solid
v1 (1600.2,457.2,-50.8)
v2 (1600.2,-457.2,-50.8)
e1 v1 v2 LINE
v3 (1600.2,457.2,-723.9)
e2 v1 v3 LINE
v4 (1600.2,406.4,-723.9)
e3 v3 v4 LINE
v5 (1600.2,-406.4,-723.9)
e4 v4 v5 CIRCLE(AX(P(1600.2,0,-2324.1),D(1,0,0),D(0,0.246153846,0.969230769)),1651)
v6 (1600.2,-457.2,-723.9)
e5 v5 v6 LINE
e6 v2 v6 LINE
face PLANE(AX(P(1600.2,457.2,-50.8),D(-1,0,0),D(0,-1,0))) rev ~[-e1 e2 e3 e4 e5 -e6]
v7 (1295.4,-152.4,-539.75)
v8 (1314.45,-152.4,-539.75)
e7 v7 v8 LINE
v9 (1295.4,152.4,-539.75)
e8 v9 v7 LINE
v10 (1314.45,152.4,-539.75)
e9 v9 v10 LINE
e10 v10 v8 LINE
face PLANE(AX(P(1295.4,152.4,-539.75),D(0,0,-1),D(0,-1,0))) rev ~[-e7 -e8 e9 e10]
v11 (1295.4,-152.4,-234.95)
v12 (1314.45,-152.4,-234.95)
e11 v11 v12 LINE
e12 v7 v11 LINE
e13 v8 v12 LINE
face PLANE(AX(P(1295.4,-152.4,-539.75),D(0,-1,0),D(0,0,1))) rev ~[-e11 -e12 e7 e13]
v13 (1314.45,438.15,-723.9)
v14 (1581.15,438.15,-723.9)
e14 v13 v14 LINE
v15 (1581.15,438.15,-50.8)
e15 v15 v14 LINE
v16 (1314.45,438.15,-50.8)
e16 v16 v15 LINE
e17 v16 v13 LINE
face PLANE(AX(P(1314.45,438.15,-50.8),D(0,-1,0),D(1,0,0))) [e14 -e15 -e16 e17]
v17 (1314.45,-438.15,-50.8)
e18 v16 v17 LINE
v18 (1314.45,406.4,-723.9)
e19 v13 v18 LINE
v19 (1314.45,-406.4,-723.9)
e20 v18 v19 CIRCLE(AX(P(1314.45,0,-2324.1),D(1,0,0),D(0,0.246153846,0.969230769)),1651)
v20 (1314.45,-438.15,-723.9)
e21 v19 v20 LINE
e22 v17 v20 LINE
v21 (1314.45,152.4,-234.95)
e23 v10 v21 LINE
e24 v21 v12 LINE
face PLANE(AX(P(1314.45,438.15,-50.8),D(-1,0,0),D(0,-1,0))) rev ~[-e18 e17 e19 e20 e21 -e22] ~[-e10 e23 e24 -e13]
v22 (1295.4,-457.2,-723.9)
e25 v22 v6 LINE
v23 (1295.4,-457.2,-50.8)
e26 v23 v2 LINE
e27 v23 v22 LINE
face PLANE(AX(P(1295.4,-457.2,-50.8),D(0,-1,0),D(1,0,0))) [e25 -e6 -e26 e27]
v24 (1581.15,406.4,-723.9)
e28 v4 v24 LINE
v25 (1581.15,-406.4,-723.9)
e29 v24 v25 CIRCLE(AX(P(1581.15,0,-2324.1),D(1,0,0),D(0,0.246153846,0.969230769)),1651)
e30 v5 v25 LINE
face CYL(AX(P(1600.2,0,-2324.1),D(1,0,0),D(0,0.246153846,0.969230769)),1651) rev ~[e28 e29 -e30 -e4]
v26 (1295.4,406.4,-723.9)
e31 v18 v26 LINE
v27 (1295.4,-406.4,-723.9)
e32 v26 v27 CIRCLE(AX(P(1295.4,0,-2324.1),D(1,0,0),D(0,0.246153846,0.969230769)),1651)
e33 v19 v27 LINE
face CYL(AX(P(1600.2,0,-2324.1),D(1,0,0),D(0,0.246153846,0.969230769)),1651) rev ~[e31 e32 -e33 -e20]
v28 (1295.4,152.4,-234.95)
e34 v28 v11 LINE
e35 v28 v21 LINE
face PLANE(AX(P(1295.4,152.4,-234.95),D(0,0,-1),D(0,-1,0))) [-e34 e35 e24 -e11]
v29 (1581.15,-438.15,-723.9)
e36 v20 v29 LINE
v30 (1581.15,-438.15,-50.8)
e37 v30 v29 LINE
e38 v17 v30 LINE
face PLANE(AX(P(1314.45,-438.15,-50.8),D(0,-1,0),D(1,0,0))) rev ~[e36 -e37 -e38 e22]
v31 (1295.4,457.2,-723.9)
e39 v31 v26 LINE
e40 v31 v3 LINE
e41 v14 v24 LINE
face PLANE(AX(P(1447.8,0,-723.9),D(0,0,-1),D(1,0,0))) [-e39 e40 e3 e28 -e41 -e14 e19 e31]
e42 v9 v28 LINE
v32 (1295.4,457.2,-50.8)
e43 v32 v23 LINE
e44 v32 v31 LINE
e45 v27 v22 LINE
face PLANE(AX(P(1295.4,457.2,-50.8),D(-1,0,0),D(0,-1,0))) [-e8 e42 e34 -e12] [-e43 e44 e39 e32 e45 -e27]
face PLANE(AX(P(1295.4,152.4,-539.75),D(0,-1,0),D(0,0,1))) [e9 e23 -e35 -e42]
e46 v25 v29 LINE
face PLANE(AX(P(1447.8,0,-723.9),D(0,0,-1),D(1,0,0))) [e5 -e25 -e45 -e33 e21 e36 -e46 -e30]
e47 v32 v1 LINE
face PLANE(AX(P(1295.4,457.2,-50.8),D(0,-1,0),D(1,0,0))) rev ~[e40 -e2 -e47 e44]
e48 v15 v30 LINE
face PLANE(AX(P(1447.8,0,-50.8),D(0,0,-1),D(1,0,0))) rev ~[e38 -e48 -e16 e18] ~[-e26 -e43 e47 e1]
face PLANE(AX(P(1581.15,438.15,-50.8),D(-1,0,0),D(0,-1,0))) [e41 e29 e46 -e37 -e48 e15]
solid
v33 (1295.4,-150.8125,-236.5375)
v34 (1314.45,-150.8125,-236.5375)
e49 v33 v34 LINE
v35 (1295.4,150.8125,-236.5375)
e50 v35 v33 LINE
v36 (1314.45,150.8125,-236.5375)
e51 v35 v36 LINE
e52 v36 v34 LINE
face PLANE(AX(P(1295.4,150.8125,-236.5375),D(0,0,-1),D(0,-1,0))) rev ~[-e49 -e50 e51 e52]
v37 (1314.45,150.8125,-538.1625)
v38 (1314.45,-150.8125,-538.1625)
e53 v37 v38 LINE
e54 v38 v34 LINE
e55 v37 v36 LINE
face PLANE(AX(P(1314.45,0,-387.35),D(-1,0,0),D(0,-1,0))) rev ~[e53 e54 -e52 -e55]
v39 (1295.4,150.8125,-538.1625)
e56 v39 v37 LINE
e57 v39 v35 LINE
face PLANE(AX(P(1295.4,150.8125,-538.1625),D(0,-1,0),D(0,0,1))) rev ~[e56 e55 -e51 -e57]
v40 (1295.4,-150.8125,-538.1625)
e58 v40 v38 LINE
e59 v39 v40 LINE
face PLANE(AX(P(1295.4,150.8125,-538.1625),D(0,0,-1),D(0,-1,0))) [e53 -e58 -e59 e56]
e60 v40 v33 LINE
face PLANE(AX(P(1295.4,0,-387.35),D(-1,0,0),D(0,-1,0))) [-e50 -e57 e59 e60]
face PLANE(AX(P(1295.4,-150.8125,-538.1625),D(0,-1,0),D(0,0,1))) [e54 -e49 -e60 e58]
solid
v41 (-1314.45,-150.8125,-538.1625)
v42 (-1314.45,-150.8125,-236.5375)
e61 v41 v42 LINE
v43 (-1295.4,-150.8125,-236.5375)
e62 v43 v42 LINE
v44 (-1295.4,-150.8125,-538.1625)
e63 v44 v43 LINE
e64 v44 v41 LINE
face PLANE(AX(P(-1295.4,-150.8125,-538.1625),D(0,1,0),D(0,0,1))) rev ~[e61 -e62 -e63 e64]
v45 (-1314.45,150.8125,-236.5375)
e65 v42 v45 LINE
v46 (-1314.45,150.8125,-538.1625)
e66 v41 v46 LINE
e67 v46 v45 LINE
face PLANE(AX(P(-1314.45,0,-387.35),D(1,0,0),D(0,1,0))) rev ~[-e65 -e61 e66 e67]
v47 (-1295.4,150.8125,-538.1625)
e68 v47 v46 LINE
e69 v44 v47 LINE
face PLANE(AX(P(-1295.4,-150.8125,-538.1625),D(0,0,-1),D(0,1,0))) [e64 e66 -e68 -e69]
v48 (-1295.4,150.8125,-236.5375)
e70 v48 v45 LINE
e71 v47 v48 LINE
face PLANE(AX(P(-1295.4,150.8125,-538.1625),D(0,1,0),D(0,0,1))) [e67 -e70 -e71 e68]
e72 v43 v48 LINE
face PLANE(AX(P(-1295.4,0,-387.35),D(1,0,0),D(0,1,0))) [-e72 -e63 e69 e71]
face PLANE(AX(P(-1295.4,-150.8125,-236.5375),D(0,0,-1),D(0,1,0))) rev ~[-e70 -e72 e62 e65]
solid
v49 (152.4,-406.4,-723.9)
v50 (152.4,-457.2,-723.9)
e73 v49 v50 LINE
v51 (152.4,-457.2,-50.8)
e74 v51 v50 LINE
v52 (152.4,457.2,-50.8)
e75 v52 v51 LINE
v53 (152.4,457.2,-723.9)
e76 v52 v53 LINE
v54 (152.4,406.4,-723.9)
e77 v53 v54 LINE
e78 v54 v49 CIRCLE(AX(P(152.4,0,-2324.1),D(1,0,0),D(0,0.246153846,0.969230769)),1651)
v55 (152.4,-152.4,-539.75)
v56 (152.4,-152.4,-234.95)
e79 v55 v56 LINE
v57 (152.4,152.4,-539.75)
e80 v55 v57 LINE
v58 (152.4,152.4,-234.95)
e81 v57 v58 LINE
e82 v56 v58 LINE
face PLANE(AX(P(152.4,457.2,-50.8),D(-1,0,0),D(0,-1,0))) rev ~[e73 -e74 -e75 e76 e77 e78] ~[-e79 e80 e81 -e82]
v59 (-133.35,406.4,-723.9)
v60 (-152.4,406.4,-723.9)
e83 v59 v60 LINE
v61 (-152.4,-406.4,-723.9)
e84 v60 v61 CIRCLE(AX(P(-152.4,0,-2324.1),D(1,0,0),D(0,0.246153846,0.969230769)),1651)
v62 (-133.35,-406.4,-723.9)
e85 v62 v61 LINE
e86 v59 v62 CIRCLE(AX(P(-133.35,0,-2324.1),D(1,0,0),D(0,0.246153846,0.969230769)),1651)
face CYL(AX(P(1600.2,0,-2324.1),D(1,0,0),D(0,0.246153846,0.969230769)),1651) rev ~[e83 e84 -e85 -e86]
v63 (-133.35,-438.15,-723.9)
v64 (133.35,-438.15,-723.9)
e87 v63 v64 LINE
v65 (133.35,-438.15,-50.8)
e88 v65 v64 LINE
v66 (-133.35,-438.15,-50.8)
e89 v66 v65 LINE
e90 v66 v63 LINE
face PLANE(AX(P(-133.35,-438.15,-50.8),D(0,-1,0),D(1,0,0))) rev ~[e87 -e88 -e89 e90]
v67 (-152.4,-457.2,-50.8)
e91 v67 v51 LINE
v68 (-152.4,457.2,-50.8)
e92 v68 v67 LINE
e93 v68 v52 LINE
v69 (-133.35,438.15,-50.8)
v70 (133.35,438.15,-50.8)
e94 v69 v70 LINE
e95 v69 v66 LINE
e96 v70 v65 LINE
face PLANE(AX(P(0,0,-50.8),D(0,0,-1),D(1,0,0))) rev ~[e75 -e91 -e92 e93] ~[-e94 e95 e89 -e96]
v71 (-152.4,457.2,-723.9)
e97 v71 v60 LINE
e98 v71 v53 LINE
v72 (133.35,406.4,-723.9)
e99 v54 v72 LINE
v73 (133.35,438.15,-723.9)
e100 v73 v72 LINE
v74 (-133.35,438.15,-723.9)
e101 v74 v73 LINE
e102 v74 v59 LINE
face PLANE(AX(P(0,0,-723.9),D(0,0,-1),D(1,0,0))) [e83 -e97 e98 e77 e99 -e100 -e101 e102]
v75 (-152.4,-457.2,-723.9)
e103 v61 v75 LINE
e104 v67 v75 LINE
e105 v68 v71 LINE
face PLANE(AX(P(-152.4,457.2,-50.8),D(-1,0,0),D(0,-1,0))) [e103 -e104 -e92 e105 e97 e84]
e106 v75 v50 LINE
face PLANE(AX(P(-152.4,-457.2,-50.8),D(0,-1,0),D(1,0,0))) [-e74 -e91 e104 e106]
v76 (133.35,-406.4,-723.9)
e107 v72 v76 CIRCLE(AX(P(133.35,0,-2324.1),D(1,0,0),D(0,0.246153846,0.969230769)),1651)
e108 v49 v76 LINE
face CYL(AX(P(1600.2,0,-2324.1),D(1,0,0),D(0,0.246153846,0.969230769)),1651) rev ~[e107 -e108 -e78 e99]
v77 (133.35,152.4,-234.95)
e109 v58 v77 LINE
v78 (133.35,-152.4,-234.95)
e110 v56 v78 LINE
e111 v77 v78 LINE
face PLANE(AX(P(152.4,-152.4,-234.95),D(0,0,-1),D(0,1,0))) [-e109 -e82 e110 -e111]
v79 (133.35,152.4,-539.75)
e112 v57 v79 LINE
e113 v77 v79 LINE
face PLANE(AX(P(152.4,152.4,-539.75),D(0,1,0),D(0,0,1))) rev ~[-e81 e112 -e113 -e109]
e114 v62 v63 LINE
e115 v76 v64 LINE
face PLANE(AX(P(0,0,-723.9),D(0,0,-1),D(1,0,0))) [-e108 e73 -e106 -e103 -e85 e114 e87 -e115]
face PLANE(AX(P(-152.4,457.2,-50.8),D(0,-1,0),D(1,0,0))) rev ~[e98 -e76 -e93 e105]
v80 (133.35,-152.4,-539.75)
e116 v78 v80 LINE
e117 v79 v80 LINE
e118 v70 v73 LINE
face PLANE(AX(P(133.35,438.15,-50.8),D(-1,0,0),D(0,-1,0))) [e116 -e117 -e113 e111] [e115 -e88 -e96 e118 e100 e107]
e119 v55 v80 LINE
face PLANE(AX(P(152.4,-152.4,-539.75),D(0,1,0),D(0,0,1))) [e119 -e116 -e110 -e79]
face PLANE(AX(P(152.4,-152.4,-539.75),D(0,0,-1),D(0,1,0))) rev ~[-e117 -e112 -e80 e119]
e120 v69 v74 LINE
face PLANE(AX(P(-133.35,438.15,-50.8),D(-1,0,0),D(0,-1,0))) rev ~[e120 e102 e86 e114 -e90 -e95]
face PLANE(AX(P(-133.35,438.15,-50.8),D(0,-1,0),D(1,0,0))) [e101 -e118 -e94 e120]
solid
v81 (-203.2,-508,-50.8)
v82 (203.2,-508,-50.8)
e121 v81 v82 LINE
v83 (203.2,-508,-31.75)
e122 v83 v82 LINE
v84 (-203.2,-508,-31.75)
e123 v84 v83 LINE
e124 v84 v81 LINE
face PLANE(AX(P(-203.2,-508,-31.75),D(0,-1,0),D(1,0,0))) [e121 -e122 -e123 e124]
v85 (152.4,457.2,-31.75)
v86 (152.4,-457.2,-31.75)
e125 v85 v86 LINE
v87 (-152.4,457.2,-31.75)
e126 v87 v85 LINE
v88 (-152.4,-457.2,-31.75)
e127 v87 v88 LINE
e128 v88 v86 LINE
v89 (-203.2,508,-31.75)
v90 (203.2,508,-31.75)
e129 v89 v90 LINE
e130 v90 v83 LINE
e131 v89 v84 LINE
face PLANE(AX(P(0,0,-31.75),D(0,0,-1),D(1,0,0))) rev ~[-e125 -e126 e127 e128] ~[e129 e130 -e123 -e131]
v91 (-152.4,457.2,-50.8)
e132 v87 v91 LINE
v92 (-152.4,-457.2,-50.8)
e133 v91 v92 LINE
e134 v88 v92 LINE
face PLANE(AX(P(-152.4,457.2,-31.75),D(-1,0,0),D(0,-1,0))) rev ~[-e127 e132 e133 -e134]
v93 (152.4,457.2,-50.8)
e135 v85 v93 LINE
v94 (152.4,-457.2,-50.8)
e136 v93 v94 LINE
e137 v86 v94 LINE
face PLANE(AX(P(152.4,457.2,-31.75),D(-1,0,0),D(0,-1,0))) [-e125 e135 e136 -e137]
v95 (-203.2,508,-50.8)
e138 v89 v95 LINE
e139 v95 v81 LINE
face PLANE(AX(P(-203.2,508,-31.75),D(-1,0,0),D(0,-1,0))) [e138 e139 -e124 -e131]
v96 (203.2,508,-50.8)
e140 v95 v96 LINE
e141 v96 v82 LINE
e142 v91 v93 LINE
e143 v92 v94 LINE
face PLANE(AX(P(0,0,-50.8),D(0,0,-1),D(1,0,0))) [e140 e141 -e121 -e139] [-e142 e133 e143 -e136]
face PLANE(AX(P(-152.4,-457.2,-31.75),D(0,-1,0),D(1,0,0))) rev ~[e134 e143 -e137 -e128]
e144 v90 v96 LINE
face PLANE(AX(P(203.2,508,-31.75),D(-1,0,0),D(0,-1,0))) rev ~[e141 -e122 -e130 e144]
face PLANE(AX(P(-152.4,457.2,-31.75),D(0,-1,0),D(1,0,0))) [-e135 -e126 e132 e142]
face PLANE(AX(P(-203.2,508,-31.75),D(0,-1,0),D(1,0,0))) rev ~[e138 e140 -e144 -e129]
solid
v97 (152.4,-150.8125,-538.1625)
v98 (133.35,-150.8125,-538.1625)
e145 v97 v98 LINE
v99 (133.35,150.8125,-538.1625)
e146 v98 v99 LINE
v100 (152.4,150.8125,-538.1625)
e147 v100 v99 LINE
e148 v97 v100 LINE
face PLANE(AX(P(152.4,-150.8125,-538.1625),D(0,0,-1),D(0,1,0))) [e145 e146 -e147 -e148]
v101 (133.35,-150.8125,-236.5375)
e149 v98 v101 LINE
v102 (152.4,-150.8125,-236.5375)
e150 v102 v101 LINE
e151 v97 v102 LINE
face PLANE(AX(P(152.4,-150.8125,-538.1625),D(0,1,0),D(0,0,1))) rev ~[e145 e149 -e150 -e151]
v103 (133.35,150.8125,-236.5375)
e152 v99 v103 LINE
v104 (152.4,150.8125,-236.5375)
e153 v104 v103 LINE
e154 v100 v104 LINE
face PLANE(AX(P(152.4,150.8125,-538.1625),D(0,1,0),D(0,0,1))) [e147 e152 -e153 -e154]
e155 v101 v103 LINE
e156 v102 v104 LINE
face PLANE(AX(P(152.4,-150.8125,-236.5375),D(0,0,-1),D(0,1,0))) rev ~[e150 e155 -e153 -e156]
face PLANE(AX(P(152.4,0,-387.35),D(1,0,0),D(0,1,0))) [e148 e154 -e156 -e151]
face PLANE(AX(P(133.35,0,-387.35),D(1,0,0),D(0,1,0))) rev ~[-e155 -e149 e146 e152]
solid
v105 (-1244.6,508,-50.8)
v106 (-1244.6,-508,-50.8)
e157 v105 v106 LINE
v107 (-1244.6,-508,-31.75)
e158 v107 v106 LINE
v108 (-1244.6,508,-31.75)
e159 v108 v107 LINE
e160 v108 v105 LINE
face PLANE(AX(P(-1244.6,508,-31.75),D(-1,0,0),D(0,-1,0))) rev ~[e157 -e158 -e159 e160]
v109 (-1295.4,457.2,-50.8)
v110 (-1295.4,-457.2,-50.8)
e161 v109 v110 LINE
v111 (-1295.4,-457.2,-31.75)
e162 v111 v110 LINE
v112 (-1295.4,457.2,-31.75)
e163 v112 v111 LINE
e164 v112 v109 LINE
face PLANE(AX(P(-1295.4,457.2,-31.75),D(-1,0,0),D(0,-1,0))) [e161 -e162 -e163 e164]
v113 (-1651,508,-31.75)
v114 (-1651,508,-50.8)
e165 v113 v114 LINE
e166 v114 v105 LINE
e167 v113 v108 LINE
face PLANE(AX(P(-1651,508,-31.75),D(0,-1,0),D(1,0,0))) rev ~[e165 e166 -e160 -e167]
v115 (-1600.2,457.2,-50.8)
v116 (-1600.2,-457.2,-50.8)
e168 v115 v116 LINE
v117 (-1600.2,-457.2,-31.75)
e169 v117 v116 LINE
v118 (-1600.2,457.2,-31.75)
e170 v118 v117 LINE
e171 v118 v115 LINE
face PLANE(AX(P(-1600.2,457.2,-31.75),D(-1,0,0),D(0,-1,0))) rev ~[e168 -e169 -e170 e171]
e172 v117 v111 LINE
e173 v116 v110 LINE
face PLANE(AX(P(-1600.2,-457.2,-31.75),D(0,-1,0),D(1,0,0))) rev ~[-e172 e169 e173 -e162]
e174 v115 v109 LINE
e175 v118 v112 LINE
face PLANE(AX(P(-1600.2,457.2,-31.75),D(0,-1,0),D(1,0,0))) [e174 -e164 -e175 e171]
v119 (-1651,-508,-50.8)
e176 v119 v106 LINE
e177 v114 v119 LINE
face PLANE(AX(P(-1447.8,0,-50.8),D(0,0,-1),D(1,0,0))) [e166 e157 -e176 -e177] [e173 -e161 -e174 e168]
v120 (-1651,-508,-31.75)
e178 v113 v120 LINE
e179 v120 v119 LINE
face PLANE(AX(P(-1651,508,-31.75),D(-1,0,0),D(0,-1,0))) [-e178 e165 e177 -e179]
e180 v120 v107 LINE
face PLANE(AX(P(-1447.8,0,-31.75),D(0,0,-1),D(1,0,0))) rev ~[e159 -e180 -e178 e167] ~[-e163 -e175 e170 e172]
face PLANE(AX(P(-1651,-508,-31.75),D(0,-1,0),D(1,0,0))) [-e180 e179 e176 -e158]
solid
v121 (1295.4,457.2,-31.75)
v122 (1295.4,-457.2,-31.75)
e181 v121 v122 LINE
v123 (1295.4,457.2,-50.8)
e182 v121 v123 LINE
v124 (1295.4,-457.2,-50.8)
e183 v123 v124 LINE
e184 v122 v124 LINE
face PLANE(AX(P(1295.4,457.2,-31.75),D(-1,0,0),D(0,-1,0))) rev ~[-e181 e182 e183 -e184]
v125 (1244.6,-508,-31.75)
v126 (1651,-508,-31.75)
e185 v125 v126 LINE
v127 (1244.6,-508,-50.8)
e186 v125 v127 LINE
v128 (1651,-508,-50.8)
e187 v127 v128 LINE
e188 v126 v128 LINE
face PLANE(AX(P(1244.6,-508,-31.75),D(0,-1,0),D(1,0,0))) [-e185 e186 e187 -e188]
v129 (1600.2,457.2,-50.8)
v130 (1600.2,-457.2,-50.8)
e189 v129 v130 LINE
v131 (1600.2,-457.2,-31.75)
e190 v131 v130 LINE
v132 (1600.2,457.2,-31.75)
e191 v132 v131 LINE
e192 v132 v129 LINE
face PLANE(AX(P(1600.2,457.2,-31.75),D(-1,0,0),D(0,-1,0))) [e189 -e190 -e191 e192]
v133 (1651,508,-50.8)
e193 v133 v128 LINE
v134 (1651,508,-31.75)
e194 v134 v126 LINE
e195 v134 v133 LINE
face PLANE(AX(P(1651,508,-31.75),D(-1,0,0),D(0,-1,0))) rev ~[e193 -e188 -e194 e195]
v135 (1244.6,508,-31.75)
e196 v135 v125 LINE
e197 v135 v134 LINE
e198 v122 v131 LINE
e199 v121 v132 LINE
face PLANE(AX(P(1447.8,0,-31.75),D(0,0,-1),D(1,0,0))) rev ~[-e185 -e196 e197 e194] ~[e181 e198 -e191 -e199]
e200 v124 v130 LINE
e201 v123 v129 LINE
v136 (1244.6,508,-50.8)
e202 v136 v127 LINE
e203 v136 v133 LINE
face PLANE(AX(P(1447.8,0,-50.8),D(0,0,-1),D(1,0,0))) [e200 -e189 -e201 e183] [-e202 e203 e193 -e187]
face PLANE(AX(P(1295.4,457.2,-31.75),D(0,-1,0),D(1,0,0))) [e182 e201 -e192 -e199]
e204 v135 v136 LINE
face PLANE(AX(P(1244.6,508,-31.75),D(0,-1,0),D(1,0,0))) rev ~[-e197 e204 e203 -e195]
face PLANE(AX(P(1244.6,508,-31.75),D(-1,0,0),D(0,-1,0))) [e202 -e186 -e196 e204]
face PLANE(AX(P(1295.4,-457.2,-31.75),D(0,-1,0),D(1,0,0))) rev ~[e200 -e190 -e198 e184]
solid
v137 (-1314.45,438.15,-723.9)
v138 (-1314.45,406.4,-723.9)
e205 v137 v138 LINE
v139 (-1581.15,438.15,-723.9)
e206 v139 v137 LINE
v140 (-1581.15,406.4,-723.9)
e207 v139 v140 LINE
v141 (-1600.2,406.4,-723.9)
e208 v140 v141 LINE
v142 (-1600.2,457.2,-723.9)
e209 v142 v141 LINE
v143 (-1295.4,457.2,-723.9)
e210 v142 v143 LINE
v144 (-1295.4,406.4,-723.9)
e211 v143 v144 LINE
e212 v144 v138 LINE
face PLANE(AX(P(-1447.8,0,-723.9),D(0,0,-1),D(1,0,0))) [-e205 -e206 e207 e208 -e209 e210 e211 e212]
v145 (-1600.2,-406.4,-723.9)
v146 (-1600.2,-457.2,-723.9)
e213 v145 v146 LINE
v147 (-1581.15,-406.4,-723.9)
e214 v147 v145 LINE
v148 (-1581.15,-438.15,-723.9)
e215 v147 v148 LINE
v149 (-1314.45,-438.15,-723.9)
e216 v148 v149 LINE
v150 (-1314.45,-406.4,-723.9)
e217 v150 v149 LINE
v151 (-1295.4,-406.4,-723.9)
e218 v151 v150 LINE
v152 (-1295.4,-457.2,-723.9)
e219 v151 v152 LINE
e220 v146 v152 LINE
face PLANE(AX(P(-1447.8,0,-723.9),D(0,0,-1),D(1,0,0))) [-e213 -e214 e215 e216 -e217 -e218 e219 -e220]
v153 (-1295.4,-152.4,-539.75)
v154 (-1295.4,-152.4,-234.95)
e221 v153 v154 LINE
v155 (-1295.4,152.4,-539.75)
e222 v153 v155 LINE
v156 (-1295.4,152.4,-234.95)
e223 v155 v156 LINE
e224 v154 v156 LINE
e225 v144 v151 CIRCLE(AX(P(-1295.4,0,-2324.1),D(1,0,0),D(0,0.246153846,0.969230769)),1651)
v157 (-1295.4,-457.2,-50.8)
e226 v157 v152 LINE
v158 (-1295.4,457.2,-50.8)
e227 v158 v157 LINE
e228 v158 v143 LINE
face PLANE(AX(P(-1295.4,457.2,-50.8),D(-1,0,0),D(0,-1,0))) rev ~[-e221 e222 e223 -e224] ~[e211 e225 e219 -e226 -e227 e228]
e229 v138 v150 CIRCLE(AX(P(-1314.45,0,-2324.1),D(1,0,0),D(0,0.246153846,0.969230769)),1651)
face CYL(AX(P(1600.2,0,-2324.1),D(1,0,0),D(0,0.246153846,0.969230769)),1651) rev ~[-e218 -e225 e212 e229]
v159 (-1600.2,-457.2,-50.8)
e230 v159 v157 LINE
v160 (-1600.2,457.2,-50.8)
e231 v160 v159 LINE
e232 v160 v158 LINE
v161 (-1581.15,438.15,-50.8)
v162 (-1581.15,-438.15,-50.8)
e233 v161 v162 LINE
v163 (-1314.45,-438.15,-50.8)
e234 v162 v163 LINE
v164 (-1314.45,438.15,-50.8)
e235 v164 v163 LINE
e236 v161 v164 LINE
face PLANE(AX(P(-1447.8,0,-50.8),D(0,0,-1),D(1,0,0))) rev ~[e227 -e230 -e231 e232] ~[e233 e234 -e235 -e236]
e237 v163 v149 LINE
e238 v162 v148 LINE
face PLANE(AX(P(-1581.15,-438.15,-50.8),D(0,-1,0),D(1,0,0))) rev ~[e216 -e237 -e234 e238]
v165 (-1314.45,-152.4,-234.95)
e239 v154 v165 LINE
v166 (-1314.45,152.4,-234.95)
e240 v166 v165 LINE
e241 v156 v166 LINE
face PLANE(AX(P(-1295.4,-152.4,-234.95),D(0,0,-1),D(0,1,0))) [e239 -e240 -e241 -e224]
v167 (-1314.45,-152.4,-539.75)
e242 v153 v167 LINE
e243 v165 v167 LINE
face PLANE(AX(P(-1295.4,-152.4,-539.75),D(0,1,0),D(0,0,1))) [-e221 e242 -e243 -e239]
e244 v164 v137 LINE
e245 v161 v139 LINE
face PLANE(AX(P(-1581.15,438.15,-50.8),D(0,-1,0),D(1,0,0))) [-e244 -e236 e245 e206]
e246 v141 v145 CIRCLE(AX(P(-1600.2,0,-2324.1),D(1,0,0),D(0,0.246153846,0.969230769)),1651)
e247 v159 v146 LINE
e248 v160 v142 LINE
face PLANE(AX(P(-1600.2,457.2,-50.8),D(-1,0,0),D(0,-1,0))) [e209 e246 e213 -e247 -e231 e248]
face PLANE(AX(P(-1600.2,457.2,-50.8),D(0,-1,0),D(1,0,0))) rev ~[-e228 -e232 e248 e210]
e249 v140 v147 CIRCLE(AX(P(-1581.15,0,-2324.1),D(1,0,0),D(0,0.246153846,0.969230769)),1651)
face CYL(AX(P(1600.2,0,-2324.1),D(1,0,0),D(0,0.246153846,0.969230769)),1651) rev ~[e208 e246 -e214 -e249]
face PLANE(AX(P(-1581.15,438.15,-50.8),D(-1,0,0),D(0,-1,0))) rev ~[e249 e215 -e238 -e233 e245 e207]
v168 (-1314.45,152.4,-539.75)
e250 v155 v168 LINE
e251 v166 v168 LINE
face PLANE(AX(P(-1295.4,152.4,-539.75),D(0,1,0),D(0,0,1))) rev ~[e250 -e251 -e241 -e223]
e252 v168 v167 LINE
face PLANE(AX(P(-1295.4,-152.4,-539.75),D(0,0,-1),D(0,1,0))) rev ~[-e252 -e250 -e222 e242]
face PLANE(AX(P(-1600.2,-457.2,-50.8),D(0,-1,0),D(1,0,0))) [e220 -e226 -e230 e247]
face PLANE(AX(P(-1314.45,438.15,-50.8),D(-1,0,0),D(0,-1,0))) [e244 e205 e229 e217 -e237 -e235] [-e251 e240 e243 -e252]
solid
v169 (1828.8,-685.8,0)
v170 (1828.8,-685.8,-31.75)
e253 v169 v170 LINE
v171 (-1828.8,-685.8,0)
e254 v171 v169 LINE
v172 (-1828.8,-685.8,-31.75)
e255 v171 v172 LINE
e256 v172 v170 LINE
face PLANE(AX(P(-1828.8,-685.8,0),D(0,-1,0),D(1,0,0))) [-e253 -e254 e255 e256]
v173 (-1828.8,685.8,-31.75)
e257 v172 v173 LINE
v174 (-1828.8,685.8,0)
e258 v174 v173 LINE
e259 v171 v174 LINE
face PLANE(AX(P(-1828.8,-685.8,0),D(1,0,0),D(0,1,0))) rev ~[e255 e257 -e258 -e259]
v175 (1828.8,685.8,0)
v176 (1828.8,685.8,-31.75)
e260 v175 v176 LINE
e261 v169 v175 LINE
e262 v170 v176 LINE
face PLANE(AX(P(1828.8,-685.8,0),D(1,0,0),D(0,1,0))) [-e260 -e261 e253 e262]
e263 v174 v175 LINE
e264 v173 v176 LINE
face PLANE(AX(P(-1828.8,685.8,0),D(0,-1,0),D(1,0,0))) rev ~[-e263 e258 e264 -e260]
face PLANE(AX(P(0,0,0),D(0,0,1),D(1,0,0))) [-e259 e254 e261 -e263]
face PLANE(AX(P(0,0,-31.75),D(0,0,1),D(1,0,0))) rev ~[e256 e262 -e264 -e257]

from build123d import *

# Parameters (mm, degrees)
F0_W      = 3657.6
F0_H      = 1371.6
F1_DEPTH  = 31.75
F2_W      = 406.4
F2_H      = 1016
F2_W_2    = 304.8
F2_H_2    = 914.4
F3_DEPTH  = 19.05
F4_W      = 304.8
F4_H      = 914.4
F4_W_2    = 266.7
F4_H_2    = 876.3
F5_DEPTH  = 673.1
F7_DEPTH  = 3657.6
F9_DEPTH  = 1981.201
F10_W     = 304.8
F10_H     = 304.8
F11_DEPTH = 25.4
F12_W     = 304.8
F12_H     = 304.8
F13_DEPTH = 25.4
F14_W     = 304.8
F14_H     = 304.8
F15_DEPTH = 25.4
F16_W     = 301.625
F16_H     = 301.625
F17_DEPTH = 19.05
F18_W     = 301.625
F18_H     = 301.625
F19_DEPTH = 19.05
F20_W     = 301.625
F20_H     = 301.625
F21_DEPTH = 19.05


with BuildPart() as f1:
    # F0 (on Top) → F1 (new body)
    with BuildSketch(Plane.XY):
        Rectangle(F0_W, F0_H)
    extrude(amount=-F1_DEPTH)

    # F8 (on face) → F9 (cut, through all)
    with BuildSketch(Plane.YZ.offset(152.4)):
        with BuildLine():
            Line((-406.4, -723.9), (406.4, -723.9))
            ThreePointArc((406.4, -723.9), (0, -673.1), (-406.4, -723.9))
        make_face()
    extrude(amount=-F9_DEPTH, mode=Mode.SUBTRACT)


with BuildPart() as f3:
    # F2 (on face) → F3 (new body)
    with BuildSketch(Plane(origin=(0, 0, -31.75), x_dir=(1, 0, 0), z_dir=(0, 0, -1))):
        with Locations((-1447.8, 0)):
            Rectangle(F2_W, F2_H)
        with Locations((-1447.8, 0)):
            Rectangle(F2_W_2, F2_H_2, mode=Mode.SUBTRACT)
    extrude(amount=F3_DEPTH)


with BuildPart() as f3b:
    # F2 (on face) → F3, piece 2 (new body)
    with BuildSketch(Plane(origin=(0, 0, -31.75), x_dir=(1, 0, 0), z_dir=(0, 0, -1))):
        Rectangle(F2_W, F2_H)
        Rectangle(F2_W_2, F2_H_2, mode=Mode.SUBTRACT)
    extrude(amount=F3_DEPTH)


with BuildPart() as f3c:
    # F2 (on face) → F3, piece 3 (new body)
    with BuildSketch(Plane(origin=(0, 0, -31.75), x_dir=(1, 0, 0), z_dir=(0, 0, -1))):
        with Locations((1447.8, 0)):
            Rectangle(F2_W, F2_H)
        with Locations((1447.8, 0)):
            Rectangle(F2_W_2, F2_H_2, mode=Mode.SUBTRACT)
    extrude(amount=F3_DEPTH)


with BuildPart() as f5:
    # F4 (on face) → F5 (new body)
    with BuildSketch(Plane(origin=(0, 0, -50.8), x_dir=(1, 0, 0), z_dir=(0, 0, -1))):
        with Locations((-1447.8, 0)):
            Rectangle(F4_W, F4_H)
        with Locations((-1447.8, 0)):
            Rectangle(F4_W_2, F4_H_2, mode=Mode.SUBTRACT)
    extrude(amount=F5_DEPTH)


with BuildPart() as f5b:
    # F4 (on face) → F5, piece 2 (new body)
    with BuildSketch(Plane(origin=(0, 0, -50.8), x_dir=(1, 0, 0), z_dir=(0, 0, -1))):
        Rectangle(F4_W, F4_H)
        Rectangle(F4_W_2, F4_H_2, mode=Mode.SUBTRACT)
    extrude(amount=F5_DEPTH)


with BuildPart() as f5c:
    # F4 (on face) → F5, piece 3 (new body)
    with BuildSketch(Plane(origin=(0, 0, -50.8), x_dir=(1, 0, 0), z_dir=(0, 0, -1))):
        with Locations((1447.8, 0)):
            Rectangle(F4_W, F4_H)
        with Locations((1447.8, 0)):
            Rectangle(F4_W_2, F4_H_2, mode=Mode.SUBTRACT)
    extrude(amount=F5_DEPTH)


with BuildPart() as f7_tool:
    # F6 (on face) → F7 (new body)
    with BuildSketch(Plane.YZ.offset(1600.2)):
        with BuildLine():
            Line((-406.4, -723.9), (406.4, -723.9))
            ThreePointArc((406.4, -723.9), (0, -673.1), (-406.4, -723.9))
        make_face()
    extrude(amount=-F7_DEPTH)


with BuildPart() as f5_1:
    add(f5.part)

    # F7: cut by f7_tool
    add(f7_tool.part, mode=Mode.SUBTRACT)

    # F10 (on face) → F11 (cut)
    with BuildSketch(Plane.YZ.offset(-1295.4)):
        with Locations((0, -387.35)):
            Rectangle(F10_W, F10_H)
    extrude(amount=-F11_DEPTH, mode=Mode.SUBTRACT)


with BuildPart() as f5b_1:
    add(f5b.part)

    # F7: cut by f7_tool
    add(f7_tool.part, mode=Mode.SUBTRACT)

    # F12 (on face) → F13 (cut)
    with BuildSketch(Plane.YZ.offset(152.4)):
        with Locations((0, -387.35)):
            Rectangle(F12_W, F12_H)
    extrude(amount=-F13_DEPTH, mode=Mode.SUBTRACT)


with BuildPart() as f5c_1:
    add(f5c.part)

    # F7: cut by f7_tool
    add(f7_tool.part, mode=Mode.SUBTRACT)

    # F14 (on face) → F15 (cut)
    with BuildSketch(Plane(origin=(1295.4, 0, 0), x_dir=(0, -1, 0), z_dir=(-1, 0, 0))):
        with Locations((0, -387.35)):
            Rectangle(F14_W, F14_H)
    extrude(amount=-F15_DEPTH, mode=Mode.SUBTRACT)


with BuildPart() as f17:
    # F16 (on face) → F17 (new body)
    with BuildSketch(Plane.YZ.offset(-1295.4)):
        with Locations((0, -387.35)):
            Rectangle(F16_W, F16_H)
    extrude(amount=-F17_DEPTH)


with BuildPart() as f19:
    # F18 (on face) → F19 (new body)
    with BuildSketch(Plane.YZ.offset(152.4)):
        with Locations((0, -387.35)):
            Rectangle(F18_W, F18_H)
    extrude(amount=-F19_DEPTH)


with BuildPart() as f21:
    # F20 (on face) → F21 (new body)
    with BuildSketch(Plane(origin=(1295.4, 0, 0), x_dir=(0, -1, 0), z_dir=(-1, 0, 0))):
        with Locations((0, -387.35)):
            Rectangle(F20_W, F20_H)
    extrude(amount=-F21_DEPTH)


solid = Compound([f1.part, f3.part, f3b.part, f3c.part, f5_1.part, f5b_1.part, f5c_1.part, f17.part, f19.part, f21.part])
